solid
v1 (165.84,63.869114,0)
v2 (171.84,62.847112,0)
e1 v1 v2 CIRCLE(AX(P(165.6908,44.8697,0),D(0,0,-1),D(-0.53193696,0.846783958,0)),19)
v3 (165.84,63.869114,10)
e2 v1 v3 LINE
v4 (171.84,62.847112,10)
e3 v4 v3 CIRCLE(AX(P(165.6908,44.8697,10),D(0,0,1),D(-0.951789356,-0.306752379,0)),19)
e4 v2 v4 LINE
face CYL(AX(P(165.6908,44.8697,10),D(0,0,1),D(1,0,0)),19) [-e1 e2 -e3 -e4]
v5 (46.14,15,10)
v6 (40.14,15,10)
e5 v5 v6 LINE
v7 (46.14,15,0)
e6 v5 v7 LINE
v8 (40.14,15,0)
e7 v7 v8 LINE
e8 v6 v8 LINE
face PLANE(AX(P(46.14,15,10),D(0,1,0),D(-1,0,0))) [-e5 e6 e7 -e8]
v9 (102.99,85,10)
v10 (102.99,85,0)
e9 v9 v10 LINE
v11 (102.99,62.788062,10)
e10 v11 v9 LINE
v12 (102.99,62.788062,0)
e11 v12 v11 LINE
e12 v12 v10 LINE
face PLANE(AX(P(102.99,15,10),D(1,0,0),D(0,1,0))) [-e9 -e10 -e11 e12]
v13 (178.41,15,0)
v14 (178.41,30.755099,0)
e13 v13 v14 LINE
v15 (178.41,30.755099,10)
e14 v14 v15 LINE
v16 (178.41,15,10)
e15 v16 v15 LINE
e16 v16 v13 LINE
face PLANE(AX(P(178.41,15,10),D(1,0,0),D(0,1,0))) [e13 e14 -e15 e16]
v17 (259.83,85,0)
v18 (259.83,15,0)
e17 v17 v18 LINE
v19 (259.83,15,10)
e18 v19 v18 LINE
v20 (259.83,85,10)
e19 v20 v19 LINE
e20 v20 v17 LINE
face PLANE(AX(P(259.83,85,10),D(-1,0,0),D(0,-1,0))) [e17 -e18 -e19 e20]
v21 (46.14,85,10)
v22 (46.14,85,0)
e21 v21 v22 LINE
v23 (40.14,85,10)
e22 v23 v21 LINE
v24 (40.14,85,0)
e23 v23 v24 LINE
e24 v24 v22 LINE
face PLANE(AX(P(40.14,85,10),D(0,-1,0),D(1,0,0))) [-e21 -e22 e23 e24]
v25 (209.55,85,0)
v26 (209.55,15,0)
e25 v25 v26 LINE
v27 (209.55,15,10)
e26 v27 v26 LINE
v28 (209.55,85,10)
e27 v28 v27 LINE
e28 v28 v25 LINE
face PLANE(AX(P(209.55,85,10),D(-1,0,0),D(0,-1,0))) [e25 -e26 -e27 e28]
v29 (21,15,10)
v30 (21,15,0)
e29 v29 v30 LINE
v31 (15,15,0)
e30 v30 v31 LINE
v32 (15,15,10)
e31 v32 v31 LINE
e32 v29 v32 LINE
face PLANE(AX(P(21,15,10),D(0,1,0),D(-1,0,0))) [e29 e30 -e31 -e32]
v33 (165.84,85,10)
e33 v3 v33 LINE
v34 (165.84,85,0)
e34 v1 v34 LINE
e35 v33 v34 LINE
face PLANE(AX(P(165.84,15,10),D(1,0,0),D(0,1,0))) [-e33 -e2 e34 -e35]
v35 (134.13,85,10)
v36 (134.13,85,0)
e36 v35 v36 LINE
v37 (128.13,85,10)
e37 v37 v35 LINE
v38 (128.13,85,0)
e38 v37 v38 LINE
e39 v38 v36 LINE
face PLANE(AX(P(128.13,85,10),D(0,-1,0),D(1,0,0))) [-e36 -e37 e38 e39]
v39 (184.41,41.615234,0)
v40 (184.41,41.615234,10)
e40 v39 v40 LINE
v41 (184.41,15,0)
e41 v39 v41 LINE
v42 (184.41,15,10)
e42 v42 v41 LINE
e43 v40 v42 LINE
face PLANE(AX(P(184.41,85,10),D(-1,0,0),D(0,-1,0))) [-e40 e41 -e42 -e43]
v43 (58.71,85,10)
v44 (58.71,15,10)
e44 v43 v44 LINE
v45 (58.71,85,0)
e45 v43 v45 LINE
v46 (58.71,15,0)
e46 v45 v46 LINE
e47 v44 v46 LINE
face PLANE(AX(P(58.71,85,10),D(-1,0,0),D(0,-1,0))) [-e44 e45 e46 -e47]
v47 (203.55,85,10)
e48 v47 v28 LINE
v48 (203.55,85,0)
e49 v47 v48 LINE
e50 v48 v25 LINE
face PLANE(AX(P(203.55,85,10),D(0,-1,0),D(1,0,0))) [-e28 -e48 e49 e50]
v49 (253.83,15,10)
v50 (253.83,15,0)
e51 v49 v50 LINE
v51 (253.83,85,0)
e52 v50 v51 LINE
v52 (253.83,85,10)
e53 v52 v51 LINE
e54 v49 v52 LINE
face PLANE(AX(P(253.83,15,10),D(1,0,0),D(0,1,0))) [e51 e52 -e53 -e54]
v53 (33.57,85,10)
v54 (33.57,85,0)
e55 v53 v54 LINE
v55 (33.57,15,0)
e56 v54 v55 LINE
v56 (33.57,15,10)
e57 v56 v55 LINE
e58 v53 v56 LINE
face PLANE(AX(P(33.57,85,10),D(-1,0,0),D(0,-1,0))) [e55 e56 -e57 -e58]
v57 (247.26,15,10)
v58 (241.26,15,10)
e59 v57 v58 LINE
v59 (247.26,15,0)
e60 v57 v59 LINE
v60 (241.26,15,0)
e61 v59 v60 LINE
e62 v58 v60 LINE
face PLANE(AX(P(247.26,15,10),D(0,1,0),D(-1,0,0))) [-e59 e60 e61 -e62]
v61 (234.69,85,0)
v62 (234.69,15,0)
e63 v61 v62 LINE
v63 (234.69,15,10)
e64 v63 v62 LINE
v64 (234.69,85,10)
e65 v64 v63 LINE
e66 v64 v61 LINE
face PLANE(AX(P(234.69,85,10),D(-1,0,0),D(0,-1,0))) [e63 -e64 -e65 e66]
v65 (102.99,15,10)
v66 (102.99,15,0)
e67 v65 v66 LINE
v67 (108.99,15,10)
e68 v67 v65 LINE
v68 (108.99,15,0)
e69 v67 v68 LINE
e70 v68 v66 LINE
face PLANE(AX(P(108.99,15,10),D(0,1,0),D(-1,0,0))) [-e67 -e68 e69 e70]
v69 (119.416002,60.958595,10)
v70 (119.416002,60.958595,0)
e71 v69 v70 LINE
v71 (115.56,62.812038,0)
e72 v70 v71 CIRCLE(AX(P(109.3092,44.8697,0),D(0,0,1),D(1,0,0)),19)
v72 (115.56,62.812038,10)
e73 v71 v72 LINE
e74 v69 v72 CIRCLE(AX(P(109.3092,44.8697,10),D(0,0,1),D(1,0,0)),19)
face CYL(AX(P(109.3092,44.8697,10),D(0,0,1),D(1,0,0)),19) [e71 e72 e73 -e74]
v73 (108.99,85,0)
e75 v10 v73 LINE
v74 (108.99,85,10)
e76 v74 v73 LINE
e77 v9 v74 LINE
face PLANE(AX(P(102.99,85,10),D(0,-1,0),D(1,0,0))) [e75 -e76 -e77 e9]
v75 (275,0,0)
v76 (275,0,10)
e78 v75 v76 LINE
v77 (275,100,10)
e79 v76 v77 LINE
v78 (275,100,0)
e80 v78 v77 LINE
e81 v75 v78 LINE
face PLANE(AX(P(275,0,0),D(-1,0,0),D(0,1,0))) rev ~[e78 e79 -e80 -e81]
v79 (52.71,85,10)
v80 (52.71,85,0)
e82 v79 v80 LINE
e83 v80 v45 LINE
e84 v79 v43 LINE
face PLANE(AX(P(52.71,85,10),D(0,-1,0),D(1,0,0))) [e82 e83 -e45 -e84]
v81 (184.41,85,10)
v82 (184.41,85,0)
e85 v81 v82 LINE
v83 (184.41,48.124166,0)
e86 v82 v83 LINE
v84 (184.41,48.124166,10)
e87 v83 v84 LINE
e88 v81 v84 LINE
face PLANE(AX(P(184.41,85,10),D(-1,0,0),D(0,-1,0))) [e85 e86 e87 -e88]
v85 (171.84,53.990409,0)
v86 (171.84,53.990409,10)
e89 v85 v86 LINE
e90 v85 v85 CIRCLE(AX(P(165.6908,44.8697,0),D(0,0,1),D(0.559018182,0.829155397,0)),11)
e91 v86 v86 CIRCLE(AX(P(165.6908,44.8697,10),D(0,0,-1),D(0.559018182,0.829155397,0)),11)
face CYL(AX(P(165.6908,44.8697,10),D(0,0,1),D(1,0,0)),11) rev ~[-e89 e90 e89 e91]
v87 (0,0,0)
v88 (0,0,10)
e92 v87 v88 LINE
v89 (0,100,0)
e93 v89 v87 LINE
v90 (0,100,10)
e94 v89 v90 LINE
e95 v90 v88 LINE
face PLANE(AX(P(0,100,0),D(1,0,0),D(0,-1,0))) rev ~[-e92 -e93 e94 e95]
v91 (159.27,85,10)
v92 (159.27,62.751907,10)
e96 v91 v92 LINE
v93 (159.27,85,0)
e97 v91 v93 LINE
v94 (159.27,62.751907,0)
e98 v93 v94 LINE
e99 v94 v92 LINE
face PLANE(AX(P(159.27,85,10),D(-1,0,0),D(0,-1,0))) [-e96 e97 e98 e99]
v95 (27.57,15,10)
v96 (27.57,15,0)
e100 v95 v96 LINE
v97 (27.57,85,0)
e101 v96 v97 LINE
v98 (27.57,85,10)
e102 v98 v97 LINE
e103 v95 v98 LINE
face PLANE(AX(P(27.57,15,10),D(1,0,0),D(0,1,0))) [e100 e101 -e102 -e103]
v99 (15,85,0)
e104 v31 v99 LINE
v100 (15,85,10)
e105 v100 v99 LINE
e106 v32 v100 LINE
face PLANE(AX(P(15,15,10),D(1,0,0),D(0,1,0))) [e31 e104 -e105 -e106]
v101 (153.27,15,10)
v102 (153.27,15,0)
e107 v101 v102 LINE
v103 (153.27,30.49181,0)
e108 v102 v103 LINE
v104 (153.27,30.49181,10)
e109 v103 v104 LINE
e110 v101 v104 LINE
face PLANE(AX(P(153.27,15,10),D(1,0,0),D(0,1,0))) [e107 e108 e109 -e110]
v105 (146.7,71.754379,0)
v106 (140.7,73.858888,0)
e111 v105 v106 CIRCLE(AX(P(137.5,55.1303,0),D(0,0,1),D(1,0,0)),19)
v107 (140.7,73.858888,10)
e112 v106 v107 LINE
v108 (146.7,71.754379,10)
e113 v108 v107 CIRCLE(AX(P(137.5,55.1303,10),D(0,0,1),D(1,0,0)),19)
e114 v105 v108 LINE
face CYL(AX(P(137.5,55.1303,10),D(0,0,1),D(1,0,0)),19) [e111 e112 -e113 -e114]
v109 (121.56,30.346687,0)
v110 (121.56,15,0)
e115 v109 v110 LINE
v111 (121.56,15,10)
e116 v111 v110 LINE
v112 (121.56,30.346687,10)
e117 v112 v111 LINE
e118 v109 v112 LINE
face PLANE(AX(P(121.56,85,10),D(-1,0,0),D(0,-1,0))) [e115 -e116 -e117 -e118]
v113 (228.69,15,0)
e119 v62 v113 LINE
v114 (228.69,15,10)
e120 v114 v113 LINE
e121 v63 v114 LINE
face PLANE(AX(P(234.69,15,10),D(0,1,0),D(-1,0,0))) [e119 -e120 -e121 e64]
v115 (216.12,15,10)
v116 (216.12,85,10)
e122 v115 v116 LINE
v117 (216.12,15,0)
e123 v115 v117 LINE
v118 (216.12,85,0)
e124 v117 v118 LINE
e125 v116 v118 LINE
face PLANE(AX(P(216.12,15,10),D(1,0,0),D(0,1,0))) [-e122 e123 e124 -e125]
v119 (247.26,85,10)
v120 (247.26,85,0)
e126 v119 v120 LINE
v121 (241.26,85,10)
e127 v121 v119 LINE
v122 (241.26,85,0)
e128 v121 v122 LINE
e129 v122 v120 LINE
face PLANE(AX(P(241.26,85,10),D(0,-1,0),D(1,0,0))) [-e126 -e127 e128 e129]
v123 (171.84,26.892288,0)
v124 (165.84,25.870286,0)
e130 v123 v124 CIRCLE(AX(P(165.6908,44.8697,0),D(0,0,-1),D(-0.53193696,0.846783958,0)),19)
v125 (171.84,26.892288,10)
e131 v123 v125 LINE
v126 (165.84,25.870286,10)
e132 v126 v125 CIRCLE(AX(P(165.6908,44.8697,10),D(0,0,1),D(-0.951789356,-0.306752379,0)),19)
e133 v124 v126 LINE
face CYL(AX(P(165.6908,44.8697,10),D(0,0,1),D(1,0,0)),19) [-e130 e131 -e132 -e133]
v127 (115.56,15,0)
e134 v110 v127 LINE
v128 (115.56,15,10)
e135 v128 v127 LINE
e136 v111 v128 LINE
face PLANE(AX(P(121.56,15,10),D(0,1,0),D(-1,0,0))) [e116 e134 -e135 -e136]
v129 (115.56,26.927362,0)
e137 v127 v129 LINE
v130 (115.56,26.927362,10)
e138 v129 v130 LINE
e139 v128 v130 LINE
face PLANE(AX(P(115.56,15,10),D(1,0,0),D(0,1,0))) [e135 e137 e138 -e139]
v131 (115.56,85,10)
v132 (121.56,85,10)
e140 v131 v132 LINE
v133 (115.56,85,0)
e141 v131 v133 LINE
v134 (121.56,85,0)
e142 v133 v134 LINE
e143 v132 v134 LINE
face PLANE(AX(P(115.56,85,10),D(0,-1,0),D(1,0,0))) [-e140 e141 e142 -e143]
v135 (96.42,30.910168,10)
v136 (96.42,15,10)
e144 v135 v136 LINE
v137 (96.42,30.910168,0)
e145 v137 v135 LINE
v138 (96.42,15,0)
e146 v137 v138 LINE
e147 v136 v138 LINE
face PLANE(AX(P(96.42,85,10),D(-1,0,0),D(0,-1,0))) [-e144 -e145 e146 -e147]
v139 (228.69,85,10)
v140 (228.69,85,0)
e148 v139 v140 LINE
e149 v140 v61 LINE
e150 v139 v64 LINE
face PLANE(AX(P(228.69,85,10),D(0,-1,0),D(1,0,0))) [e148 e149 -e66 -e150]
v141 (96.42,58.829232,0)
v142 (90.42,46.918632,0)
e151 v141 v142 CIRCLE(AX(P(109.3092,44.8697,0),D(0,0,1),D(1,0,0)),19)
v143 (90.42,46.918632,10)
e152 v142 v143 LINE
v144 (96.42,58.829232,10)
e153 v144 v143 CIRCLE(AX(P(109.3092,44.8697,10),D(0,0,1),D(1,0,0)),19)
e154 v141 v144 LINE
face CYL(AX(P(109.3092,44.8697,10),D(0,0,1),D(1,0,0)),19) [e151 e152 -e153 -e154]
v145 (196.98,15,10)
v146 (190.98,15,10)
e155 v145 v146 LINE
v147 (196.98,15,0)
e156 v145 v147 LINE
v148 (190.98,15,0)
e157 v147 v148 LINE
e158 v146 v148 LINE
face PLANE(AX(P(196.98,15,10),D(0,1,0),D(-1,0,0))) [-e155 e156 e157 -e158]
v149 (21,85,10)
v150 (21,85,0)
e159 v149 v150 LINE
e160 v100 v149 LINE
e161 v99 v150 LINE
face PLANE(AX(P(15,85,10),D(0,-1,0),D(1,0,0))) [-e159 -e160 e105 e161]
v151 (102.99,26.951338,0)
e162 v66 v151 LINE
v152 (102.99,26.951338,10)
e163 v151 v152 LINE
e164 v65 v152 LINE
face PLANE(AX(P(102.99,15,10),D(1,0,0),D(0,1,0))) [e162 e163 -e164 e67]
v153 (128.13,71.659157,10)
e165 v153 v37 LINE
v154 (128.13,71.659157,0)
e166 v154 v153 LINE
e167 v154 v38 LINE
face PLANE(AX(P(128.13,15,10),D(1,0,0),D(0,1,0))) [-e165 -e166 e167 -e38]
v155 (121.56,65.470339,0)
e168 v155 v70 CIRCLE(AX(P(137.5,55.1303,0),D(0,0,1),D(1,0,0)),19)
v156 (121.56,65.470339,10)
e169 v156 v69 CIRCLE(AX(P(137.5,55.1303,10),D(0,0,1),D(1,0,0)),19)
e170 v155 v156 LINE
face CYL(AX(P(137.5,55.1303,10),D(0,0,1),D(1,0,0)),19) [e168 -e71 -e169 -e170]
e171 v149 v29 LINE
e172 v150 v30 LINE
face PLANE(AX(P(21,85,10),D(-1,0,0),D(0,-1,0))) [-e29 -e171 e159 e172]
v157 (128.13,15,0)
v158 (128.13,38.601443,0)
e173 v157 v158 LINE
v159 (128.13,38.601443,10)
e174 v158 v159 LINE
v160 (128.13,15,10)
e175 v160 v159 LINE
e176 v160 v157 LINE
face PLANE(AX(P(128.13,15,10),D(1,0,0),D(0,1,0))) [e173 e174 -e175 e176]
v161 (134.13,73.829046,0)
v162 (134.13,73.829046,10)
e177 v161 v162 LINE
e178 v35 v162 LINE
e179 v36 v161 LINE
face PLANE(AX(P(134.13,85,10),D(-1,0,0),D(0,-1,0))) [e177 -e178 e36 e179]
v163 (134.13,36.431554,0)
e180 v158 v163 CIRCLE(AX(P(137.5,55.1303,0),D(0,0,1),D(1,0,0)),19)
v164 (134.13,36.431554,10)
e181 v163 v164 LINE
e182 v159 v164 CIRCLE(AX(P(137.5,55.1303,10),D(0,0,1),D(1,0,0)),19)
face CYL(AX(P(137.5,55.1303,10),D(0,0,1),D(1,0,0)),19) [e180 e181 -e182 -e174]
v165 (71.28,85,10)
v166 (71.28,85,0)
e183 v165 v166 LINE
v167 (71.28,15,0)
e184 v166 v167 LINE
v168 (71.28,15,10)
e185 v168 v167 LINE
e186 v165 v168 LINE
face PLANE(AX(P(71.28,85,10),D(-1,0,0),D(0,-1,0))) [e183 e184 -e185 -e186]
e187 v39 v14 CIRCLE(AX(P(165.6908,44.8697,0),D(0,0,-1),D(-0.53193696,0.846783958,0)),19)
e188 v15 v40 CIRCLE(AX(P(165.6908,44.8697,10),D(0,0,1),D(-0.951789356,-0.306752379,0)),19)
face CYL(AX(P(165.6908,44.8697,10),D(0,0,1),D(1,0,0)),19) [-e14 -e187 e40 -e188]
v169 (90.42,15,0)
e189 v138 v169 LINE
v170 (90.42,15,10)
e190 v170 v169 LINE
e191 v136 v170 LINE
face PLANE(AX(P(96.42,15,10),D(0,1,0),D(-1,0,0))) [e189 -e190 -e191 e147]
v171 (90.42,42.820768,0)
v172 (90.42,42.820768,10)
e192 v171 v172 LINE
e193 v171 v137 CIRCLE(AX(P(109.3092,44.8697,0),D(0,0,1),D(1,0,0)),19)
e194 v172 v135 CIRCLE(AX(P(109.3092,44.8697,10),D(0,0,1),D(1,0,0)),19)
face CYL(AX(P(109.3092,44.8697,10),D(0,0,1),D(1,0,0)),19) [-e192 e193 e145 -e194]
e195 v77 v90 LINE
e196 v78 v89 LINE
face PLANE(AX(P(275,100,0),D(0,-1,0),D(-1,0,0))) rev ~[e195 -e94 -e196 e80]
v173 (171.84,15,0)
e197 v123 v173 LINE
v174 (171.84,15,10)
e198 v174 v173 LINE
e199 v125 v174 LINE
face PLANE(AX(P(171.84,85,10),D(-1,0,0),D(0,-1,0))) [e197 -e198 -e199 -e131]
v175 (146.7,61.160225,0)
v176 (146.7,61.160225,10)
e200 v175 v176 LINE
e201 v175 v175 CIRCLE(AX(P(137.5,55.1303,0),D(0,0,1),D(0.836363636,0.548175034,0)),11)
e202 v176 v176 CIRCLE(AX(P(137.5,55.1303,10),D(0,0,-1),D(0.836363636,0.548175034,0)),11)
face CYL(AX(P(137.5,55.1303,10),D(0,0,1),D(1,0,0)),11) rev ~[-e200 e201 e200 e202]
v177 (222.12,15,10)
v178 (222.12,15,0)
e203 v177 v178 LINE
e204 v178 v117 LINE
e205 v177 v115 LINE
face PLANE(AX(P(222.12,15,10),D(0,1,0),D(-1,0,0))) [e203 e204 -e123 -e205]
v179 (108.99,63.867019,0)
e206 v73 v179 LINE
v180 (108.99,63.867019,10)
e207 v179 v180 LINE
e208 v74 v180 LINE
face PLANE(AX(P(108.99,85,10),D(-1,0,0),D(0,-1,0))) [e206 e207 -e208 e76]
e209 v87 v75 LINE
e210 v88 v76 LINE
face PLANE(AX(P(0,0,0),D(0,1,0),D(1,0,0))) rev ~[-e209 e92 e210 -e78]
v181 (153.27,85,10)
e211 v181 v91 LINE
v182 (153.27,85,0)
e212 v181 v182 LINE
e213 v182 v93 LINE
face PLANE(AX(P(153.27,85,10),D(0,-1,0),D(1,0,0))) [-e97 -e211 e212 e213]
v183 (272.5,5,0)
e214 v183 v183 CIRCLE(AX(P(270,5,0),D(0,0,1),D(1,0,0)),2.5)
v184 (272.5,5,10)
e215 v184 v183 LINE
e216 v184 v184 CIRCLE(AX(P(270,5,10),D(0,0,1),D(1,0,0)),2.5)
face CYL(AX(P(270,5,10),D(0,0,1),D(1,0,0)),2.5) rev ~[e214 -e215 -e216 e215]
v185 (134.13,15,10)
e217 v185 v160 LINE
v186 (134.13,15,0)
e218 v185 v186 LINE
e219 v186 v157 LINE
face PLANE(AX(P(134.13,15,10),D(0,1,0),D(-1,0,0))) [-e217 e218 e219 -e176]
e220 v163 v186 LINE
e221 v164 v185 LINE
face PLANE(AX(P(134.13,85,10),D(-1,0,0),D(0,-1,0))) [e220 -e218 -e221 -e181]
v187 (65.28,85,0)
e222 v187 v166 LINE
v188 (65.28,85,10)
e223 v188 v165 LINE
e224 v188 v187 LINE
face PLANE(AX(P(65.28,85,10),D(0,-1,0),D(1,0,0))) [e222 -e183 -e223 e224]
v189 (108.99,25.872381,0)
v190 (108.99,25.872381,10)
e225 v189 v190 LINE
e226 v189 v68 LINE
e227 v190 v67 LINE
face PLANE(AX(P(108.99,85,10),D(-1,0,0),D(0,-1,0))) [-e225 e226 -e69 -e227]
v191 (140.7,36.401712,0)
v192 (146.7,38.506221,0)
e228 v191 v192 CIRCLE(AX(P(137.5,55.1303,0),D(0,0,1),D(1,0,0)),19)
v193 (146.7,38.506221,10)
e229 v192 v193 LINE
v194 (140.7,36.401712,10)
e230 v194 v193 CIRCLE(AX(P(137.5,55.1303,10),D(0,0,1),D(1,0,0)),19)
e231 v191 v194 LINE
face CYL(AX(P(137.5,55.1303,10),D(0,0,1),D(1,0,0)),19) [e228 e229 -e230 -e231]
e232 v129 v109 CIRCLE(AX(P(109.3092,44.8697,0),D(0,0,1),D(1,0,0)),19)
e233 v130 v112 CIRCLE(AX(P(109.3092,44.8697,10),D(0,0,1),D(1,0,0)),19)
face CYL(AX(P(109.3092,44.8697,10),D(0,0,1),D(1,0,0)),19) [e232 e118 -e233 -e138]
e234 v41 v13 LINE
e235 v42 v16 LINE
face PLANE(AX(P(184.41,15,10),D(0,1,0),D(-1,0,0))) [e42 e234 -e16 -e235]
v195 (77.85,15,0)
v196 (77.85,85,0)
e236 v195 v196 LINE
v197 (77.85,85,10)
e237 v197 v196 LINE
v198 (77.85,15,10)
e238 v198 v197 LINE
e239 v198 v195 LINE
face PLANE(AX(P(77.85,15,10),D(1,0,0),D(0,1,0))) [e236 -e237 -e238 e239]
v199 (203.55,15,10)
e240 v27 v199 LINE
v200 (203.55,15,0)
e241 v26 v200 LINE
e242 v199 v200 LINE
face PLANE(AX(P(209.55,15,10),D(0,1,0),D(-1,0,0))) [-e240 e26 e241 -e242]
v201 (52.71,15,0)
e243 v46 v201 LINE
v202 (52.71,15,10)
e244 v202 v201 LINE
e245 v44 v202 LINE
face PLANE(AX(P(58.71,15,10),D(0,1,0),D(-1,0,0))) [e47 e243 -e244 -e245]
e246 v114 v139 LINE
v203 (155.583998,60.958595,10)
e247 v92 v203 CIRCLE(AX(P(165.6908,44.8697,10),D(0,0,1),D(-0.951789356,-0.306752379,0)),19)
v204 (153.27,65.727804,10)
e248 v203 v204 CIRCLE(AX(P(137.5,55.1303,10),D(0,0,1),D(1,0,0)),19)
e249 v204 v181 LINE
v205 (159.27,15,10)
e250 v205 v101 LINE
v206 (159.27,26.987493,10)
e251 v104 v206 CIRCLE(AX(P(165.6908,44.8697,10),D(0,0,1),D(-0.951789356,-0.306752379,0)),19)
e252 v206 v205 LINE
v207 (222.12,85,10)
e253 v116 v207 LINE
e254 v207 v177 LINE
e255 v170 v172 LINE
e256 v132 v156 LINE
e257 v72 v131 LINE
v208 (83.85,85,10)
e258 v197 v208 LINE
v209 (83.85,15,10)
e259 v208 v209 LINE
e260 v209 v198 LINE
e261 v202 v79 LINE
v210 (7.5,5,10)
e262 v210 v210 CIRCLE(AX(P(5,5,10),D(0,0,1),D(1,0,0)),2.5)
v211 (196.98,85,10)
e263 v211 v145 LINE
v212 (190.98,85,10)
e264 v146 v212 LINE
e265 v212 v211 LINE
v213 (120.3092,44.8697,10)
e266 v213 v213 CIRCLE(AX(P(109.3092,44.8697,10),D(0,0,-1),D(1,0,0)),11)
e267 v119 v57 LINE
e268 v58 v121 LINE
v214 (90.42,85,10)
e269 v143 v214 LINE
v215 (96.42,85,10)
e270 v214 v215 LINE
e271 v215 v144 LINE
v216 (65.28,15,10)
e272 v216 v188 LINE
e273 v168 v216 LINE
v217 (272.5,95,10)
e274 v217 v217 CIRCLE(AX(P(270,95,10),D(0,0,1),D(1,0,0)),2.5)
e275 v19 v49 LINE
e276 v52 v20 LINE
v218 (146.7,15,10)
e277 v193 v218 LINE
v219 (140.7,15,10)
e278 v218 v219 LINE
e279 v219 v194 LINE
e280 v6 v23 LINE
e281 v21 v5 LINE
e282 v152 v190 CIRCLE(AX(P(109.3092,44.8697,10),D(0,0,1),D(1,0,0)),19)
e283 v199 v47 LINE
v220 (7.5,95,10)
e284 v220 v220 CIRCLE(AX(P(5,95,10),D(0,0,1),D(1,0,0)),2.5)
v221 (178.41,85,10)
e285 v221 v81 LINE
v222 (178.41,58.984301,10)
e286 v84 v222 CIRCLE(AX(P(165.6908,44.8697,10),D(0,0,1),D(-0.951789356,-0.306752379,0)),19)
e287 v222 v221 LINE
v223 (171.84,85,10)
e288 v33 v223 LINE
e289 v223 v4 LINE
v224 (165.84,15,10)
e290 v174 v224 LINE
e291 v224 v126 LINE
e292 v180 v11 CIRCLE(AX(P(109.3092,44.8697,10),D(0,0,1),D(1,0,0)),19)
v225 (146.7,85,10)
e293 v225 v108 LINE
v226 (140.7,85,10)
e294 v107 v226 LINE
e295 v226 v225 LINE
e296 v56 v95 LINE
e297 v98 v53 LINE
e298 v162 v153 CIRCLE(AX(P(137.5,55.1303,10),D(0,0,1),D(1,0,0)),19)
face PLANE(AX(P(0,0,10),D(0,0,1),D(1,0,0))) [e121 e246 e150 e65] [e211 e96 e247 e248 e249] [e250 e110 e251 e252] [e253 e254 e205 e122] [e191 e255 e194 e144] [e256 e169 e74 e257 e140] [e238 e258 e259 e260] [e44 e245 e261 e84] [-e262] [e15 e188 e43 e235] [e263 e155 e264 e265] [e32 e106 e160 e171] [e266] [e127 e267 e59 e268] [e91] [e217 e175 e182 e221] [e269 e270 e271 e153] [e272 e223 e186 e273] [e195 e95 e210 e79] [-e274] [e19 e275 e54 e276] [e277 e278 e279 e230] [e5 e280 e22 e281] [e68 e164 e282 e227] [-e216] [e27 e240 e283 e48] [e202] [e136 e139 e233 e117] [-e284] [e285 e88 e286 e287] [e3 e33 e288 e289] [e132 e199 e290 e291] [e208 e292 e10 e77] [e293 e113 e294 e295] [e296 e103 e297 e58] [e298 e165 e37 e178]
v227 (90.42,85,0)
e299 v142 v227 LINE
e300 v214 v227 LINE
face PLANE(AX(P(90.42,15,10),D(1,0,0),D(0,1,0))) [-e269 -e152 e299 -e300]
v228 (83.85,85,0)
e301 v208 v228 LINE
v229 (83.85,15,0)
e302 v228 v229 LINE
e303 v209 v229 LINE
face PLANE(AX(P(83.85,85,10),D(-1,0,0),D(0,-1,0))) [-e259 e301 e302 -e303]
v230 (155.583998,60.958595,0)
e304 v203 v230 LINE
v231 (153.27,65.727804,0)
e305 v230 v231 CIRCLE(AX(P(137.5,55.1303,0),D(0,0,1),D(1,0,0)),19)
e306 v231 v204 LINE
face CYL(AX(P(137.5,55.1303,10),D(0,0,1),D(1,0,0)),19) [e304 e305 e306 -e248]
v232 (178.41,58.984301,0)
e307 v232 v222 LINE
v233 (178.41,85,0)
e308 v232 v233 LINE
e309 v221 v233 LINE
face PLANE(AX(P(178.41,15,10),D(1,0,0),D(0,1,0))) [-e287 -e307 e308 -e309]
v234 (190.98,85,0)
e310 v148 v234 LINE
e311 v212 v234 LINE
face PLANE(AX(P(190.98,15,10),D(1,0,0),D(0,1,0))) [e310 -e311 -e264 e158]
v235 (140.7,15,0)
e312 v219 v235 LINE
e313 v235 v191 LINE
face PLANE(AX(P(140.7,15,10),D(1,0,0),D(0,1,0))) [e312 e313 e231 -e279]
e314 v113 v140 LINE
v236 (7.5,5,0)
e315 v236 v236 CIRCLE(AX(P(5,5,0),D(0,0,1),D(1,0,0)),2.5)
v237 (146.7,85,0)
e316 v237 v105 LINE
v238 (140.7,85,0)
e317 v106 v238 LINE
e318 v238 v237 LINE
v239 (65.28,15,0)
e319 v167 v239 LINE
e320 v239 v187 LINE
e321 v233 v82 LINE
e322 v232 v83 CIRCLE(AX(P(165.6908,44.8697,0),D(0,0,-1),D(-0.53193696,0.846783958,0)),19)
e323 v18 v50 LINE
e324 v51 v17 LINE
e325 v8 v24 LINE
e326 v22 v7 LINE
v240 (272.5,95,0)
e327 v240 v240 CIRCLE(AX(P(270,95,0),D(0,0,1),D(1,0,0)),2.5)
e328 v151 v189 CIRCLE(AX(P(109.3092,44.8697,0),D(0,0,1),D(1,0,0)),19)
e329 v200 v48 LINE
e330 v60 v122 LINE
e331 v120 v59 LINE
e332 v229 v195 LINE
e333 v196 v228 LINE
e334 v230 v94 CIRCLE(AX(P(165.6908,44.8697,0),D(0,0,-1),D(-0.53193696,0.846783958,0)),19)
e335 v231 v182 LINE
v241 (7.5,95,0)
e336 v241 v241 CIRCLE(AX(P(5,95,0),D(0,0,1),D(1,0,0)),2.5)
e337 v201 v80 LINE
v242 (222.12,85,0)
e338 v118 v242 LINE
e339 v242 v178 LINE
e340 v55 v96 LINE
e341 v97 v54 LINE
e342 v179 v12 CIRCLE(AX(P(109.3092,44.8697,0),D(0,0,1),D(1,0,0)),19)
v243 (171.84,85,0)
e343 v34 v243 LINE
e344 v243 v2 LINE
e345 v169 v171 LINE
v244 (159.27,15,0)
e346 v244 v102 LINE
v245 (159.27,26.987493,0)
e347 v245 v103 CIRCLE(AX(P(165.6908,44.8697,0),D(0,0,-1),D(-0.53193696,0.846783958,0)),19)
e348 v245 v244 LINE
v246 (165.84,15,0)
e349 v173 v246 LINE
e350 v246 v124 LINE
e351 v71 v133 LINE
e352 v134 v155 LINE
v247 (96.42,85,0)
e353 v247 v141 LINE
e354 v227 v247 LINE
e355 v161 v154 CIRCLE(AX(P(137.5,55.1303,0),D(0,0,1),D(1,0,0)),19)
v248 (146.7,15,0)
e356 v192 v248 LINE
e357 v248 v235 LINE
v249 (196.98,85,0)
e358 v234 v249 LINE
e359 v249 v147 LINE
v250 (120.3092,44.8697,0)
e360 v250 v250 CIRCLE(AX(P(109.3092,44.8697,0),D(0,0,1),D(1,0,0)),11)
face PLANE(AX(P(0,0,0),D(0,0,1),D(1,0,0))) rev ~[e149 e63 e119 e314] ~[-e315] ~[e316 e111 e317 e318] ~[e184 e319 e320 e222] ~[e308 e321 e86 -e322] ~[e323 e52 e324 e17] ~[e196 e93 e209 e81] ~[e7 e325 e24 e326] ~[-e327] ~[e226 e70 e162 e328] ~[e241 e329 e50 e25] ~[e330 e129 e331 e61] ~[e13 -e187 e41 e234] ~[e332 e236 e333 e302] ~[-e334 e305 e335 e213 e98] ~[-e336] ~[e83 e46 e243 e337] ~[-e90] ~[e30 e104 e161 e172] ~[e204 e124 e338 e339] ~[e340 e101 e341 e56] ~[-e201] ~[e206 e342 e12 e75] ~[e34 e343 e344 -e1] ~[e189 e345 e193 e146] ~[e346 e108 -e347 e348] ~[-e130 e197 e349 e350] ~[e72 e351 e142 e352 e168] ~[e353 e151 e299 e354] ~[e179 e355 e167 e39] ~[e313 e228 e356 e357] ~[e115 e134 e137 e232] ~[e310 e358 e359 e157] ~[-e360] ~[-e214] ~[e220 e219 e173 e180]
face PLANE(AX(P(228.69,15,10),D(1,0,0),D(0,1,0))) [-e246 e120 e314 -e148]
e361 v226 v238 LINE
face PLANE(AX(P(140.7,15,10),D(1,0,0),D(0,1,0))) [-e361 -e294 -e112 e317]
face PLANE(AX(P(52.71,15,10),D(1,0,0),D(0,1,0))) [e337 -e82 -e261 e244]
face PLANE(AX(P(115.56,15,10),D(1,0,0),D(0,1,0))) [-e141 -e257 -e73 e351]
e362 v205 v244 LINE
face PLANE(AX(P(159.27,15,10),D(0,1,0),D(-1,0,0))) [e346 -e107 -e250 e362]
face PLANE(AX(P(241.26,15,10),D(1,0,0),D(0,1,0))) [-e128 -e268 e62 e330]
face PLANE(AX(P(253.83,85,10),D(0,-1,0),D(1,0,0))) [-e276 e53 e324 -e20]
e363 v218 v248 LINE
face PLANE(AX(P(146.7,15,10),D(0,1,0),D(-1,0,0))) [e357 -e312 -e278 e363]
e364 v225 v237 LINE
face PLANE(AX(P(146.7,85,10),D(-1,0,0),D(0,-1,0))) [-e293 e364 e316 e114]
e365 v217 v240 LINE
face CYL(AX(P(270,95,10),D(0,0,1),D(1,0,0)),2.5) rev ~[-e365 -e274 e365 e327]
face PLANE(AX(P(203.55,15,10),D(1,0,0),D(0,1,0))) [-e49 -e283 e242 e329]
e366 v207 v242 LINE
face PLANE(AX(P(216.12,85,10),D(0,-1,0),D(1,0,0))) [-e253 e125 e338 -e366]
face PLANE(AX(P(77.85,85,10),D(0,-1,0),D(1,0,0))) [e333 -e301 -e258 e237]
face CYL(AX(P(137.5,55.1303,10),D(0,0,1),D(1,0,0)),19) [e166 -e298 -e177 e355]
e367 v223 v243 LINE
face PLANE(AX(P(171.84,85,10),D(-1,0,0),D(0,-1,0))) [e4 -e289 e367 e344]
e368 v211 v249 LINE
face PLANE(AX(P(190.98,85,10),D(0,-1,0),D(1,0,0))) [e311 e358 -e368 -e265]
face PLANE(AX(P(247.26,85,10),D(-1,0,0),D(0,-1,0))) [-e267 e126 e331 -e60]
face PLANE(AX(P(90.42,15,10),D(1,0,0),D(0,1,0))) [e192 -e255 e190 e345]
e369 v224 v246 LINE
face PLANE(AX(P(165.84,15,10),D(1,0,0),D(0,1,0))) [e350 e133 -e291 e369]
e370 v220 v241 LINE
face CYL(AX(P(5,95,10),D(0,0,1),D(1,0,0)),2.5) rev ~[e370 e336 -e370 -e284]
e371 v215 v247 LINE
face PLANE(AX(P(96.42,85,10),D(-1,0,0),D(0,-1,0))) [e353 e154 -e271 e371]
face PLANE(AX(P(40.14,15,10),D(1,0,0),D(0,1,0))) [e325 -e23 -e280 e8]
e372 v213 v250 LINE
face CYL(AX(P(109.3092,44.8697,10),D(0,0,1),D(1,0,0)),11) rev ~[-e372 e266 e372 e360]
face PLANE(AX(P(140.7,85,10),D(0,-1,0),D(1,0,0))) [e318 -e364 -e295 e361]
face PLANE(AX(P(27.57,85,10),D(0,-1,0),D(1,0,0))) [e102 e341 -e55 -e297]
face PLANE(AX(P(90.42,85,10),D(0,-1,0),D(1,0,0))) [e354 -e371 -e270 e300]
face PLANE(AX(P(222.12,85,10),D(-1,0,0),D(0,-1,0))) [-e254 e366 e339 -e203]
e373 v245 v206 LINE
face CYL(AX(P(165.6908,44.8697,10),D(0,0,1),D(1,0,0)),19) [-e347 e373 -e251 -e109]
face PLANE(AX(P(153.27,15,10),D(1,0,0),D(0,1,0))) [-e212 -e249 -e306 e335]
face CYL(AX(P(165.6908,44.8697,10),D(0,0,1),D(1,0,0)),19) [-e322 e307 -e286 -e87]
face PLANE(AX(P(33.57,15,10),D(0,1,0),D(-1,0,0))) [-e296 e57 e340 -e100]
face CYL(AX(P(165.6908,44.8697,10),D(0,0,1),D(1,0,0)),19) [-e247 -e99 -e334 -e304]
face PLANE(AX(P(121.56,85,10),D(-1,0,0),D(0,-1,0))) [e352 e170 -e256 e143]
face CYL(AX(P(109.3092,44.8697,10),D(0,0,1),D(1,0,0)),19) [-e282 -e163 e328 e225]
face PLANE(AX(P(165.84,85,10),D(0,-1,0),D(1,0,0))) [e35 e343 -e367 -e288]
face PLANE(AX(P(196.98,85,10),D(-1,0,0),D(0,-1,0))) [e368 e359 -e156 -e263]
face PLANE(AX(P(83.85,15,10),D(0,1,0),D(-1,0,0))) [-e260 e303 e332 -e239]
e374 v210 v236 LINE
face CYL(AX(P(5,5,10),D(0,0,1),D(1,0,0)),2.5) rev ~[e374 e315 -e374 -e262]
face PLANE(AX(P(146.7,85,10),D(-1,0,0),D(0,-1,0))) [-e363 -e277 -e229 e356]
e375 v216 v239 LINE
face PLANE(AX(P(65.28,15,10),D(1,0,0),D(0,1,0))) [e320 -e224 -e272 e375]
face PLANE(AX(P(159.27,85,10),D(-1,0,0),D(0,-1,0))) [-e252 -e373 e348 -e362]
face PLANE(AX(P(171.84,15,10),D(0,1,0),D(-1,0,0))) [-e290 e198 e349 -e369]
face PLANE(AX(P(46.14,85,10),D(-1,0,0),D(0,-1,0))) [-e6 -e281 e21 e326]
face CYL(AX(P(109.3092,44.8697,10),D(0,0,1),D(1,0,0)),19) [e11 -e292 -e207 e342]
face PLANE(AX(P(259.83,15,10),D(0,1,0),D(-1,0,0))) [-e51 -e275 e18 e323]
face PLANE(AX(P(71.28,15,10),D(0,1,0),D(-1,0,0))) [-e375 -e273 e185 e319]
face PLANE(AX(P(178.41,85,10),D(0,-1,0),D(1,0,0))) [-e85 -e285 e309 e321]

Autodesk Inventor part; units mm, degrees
ref_plane "YZ Plane" through (0, 0, 0) normal (1, 0, 0) x (0, 1, 0)
ref_plane "XZ Plane" through (0, 0, 0) normal (0, 1, 0) x (-1, 0, 0)
ref_plane "XY Plane" through (0, 0, 0) normal (0, 0, 1) x (1, 0, 0)
sketch "Sketch1" plane through (0, 0, 0) normal (0, 0, 1) x (1, 0, 0)
  line L0 (0, 0) -> (275, 0)
  line L1 (275, 0) -> (275, 100)
  line L2 (275, 100) -> (0, 100)
  line L3 (0, 100) -> (0, 0)
  dimension "d0" = 275
  dimension "d1" = 100
extrude "Extrusion1" add sketch "Sketch1" along normal blind 10
sketch "Sketch2" plane through (0, 0, 10) normal (0, 0, 1) x (1, 0, 0)
  line L0 (0, 0) -> (275, 0) construction
  line L1 (275, 0) -> (275, 100) construction
  line L2 (275, 100) -> (0, 100) construction
  line L3 (0, 100) -> (0, 0) construction
  line L4 (5, 95) -> (270, 95) construction
  line L5 (270, 95) -> (270, 5) construction
  line L6 (270, 5) -> (5, 5) construction
  line L7 (5, 5) -> (5, 95) construction
  line L8 (10, 90) -> (265, 90) construction
  line L9 (265, 90) -> (265, 10) construction
  line L10 (265, 10) -> (10, 10) construction
  line L11 (10, 10) -> (10, 90) construction
  circle A0 centre (5, 95) radius 2.5
  circle A1 centre (270, 95) radius 2.5
  circle A2 centre (270, 5) radius 2.5
  circle A3 centre (5, 5) radius 2.5
  line L12 (15, 85) -> (21, 85)
  line L13 (21, 85) -> (21, 15)
  line L14 (21, 15) -> (15, 15)
  line L15 (15, 15) -> (15, 85)
  line L16 (15, 85) -> (260, 85) construction
  line L17 (260, 85) -> (260, 15) construction
  line L18 (260, 15) -> (15, 15) construction
  line L19 (15, 15) -> (15, 85) construction
  line L20 (33.57, 85) -> (33.57, 15)
  line L21 (27.57, 85) -> (33.57, 85)
  line L22 (27.57, 15) -> (27.57, 85)
  line L23 (27.57, 15) -> (27.57, 85) construction
  line L24 (33.57, 15) -> (27.57, 15)
  line L25 (46.14, 85) -> (46.14, 15)
  line L26 (40.14, 85) -> (46.14, 85)
  line L27 (40.14, 15) -> (40.14, 85)
  line L28 (40.14, 15) -> (40.14, 85) construction
  line L29 (46.14, 15) -> (40.14, 15)
  line L30 (58.71, 85) -> (58.71, 15)
  line L31 (52.71, 85) -> (58.71, 85)
  line L32 (52.71, 15) -> (52.71, 85)
  line L33 (52.71, 15) -> (52.71, 85) construction
  line L34 (58.71, 15) -> (52.71, 15)
  line L35 (71.28, 85) -> (71.28, 15)
  line L36 (65.28, 85) -> (71.28, 85)
  line L37 (65.28, 15) -> (65.28, 85)
  line L38 (65.28, 15) -> (65.28, 85) construction
  line L39 (71.28, 15) -> (65.28, 15)
  line L40 (83.85, 85) -> (83.85, 15)
  line L41 (77.85, 85) -> (83.85, 85)
  line L42 (77.85, 15) -> (77.85, 85)
  line L43 (77.85, 15) -> (77.85, 85) construction
  line L44 (83.85, 15) -> (77.85, 15)
  line L45 (96.42, 85) -> (96.42, 15)
  line L46 (90.42, 85) -> (96.42, 85)
  line L47 (90.42, 15) -> (90.42, 85)
  line L48 (90.42, 15) -> (90.42, 85) construction
  line L49 (96.42, 15) -> (90.42, 15)
  line L50 (108.99, 85) -> (108.99, 15)
  line L51 (102.99, 85) -> (108.99, 85)
  line L52 (102.99, 15) -> (102.99, 85)
  line L53 (102.99, 15) -> (102.99, 85) construction
  line L54 (108.99, 15) -> (102.99, 15)
  line L55 (121.56, 85) -> (121.56, 15)
  line L56 (115.56, 85) -> (121.56, 85)
  line L57 (115.56, 15) -> (115.56, 85)
  line L58 (115.56, 15) -> (115.56, 85) construction
  line L59 (121.56, 15) -> (115.56, 15)
  line L60 (134.13, 85) -> (134.13, 15)
  line L61 (128.13, 85) -> (134.13, 85)
  line L62 (128.13, 15) -> (128.13, 85)
  line L63 (128.13, 15) -> (128.13, 85) construction
  line L64 (134.13, 15) -> (128.13, 15)
  line L65 (146.7, 85) -> (146.7, 15)
  line L66 (140.7, 85) -> (146.7, 85)
  line L67 (140.7, 15) -> (140.7, 85)
  line L68 (140.7, 15) -> (140.7, 85) construction
  line L69 (146.7, 15) -> (140.7, 15)
  line L70 (159.27, 85) -> (159.27, 15)
  line L71 (153.27, 85) -> (159.27, 85)
  line L72 (153.27, 15) -> (153.27, 85)
  line L73 (153.27, 15) -> (153.27, 85) construction
  line L74 (159.27, 15) -> (153.27, 15)
  line L75 (171.84, 85) -> (171.84, 15)
  line L76 (165.84, 85) -> (171.84, 85)
  line L77 (165.84, 15) -> (165.84, 85)
  line L78 (165.84, 15) -> (165.84, 85) construction
  line L79 (171.84, 15) -> (165.84, 15)
  line L80 (184.41, 85) -> (184.41, 15)
  line L81 (178.41, 85) -> (184.41, 85)
  line L82 (178.41, 15) -> (178.41, 85)
  line L83 (178.41, 15) -> (178.41, 85) construction
  line L84 (184.41, 15) -> (178.41, 15)
  line L85 (196.98, 85) -> (196.98, 15)
  line L86 (190.98, 85) -> (196.98, 85)
  line L87 (190.98, 15) -> (190.98, 85)
  line L88 (190.98, 15) -> (190.98, 85) construction
  line L89 (196.98, 15) -> (190.98, 15)
  line L90 (209.55, 85) -> (209.55, 15)
  line L91 (203.55, 85) -> (209.55, 85)
  line L92 (203.55, 15) -> (203.55, 85)
  line L93 (203.55, 15) -> (203.55, 85) construction
  line L94 (209.55, 15) -> (203.55, 15)
  line L95 (222.12, 85) -> (222.12, 15)
  line L96 (216.12, 85) -> (222.12, 85)
  line L97 (216.12, 15) -> (216.12, 85)
  line L98 (216.12, 15) -> (216.12, 85) construction
  line L99 (222.12, 15) -> (216.12, 15)
  line L100 (234.69, 85) -> (234.69, 15)
  line L101 (228.69, 85) -> (234.69, 85)
  line L102 (228.69, 15) -> (228.69, 85)
  line L103 (228.69, 15) -> (228.69, 85) construction
  line L104 (234.69, 15) -> (228.69, 15)
  line L105 (247.26, 85) -> (247.26, 15)
  line L106 (241.26, 85) -> (247.26, 85)
  line L107 (241.26, 15) -> (241.26, 85)
  line L108 (241.26, 15) -> (241.26, 85) construction
  line L109 (247.26, 15) -> (241.26, 15)
  line L110 (259.83, 85) -> (259.83, 15)
  line L111 (253.83, 85) -> (259.83, 85)
  line L112 (253.83, 15) -> (253.83, 85)
  line L113 (253.83, 15) -> (253.83, 85) construction
  line L114 (259.83, 15) -> (253.83, 15)
  dimension "d4" = 5
  dimension "d5" = 10
  dimension "d6" = 5
  dimension "d7" = 5
  dimension "d8" = 5
  dimension "d9" = 5
  dimension "d10" = 6
  dimension "d11" = 15
  dimension "d14" = 12.57
extrude "Extrusion2" cut sketch "Sketch2" against normal through all
sketch "Sketch4" plane through (0, 0, 10) normal (0, 0, 1) x (1, 0, 0)
  circle A0 centre (137.5, 55.1303) radius 11
  line L0 (275, 100) -> (0, 100) projected
  line L1 (275, 0) -> (275, 100) projected
  circle A1 centre (109.3092, 44.8697) radius 11
  circle A2 centre (165.6908, 44.8697) radius 11
  line L2 (109.3092, 44.8697) -> (165.6908, 44.8697) construction
  line L3 (165.6908, 44.8697) -> (137.5, 55.1303) construction
  line L4 (137.5, 55.1303) -> (109.3092, 44.8697) construction
  line L5 (137.5, 55.1303) -> (137.5, 44.8697) construction
  circle A3 centre (137.5, 55.1303) radius 19
  circle A4 centre (165.6908, 44.8697) radius 19
  circle A5 centre (109.3092, 44.8697) radius 19
  point P0 (0, 0)
  point P1 (275, 50)
  point P2 (137.5, 100)
  point P3 (137.5, 50)
  point P4 (275, 50)
  dimension "d23" = 22
  dimension "d29" = 22
  dimension "d30" = 22
  dimension "d31" = 30
  dimension "d32" = 30
  dimension "d35" = 8
  dimension "d36" = 8
  dimension "d37" = 8
  dimension "d40" = 20
extrude "Extrusion4" cut sketch "Sketch4" against normal through all contours A0 | A1 | A2
extrude "Extrusion6" add sketch "Sketch4" against normal blind 10 contours A0 A5 A3 A4 | A0 A4 A3 A5 | A5 A3 | A4 A3 | A3 A5 | A4 A3
properties part number "HA006" material "ABS Plastic"
